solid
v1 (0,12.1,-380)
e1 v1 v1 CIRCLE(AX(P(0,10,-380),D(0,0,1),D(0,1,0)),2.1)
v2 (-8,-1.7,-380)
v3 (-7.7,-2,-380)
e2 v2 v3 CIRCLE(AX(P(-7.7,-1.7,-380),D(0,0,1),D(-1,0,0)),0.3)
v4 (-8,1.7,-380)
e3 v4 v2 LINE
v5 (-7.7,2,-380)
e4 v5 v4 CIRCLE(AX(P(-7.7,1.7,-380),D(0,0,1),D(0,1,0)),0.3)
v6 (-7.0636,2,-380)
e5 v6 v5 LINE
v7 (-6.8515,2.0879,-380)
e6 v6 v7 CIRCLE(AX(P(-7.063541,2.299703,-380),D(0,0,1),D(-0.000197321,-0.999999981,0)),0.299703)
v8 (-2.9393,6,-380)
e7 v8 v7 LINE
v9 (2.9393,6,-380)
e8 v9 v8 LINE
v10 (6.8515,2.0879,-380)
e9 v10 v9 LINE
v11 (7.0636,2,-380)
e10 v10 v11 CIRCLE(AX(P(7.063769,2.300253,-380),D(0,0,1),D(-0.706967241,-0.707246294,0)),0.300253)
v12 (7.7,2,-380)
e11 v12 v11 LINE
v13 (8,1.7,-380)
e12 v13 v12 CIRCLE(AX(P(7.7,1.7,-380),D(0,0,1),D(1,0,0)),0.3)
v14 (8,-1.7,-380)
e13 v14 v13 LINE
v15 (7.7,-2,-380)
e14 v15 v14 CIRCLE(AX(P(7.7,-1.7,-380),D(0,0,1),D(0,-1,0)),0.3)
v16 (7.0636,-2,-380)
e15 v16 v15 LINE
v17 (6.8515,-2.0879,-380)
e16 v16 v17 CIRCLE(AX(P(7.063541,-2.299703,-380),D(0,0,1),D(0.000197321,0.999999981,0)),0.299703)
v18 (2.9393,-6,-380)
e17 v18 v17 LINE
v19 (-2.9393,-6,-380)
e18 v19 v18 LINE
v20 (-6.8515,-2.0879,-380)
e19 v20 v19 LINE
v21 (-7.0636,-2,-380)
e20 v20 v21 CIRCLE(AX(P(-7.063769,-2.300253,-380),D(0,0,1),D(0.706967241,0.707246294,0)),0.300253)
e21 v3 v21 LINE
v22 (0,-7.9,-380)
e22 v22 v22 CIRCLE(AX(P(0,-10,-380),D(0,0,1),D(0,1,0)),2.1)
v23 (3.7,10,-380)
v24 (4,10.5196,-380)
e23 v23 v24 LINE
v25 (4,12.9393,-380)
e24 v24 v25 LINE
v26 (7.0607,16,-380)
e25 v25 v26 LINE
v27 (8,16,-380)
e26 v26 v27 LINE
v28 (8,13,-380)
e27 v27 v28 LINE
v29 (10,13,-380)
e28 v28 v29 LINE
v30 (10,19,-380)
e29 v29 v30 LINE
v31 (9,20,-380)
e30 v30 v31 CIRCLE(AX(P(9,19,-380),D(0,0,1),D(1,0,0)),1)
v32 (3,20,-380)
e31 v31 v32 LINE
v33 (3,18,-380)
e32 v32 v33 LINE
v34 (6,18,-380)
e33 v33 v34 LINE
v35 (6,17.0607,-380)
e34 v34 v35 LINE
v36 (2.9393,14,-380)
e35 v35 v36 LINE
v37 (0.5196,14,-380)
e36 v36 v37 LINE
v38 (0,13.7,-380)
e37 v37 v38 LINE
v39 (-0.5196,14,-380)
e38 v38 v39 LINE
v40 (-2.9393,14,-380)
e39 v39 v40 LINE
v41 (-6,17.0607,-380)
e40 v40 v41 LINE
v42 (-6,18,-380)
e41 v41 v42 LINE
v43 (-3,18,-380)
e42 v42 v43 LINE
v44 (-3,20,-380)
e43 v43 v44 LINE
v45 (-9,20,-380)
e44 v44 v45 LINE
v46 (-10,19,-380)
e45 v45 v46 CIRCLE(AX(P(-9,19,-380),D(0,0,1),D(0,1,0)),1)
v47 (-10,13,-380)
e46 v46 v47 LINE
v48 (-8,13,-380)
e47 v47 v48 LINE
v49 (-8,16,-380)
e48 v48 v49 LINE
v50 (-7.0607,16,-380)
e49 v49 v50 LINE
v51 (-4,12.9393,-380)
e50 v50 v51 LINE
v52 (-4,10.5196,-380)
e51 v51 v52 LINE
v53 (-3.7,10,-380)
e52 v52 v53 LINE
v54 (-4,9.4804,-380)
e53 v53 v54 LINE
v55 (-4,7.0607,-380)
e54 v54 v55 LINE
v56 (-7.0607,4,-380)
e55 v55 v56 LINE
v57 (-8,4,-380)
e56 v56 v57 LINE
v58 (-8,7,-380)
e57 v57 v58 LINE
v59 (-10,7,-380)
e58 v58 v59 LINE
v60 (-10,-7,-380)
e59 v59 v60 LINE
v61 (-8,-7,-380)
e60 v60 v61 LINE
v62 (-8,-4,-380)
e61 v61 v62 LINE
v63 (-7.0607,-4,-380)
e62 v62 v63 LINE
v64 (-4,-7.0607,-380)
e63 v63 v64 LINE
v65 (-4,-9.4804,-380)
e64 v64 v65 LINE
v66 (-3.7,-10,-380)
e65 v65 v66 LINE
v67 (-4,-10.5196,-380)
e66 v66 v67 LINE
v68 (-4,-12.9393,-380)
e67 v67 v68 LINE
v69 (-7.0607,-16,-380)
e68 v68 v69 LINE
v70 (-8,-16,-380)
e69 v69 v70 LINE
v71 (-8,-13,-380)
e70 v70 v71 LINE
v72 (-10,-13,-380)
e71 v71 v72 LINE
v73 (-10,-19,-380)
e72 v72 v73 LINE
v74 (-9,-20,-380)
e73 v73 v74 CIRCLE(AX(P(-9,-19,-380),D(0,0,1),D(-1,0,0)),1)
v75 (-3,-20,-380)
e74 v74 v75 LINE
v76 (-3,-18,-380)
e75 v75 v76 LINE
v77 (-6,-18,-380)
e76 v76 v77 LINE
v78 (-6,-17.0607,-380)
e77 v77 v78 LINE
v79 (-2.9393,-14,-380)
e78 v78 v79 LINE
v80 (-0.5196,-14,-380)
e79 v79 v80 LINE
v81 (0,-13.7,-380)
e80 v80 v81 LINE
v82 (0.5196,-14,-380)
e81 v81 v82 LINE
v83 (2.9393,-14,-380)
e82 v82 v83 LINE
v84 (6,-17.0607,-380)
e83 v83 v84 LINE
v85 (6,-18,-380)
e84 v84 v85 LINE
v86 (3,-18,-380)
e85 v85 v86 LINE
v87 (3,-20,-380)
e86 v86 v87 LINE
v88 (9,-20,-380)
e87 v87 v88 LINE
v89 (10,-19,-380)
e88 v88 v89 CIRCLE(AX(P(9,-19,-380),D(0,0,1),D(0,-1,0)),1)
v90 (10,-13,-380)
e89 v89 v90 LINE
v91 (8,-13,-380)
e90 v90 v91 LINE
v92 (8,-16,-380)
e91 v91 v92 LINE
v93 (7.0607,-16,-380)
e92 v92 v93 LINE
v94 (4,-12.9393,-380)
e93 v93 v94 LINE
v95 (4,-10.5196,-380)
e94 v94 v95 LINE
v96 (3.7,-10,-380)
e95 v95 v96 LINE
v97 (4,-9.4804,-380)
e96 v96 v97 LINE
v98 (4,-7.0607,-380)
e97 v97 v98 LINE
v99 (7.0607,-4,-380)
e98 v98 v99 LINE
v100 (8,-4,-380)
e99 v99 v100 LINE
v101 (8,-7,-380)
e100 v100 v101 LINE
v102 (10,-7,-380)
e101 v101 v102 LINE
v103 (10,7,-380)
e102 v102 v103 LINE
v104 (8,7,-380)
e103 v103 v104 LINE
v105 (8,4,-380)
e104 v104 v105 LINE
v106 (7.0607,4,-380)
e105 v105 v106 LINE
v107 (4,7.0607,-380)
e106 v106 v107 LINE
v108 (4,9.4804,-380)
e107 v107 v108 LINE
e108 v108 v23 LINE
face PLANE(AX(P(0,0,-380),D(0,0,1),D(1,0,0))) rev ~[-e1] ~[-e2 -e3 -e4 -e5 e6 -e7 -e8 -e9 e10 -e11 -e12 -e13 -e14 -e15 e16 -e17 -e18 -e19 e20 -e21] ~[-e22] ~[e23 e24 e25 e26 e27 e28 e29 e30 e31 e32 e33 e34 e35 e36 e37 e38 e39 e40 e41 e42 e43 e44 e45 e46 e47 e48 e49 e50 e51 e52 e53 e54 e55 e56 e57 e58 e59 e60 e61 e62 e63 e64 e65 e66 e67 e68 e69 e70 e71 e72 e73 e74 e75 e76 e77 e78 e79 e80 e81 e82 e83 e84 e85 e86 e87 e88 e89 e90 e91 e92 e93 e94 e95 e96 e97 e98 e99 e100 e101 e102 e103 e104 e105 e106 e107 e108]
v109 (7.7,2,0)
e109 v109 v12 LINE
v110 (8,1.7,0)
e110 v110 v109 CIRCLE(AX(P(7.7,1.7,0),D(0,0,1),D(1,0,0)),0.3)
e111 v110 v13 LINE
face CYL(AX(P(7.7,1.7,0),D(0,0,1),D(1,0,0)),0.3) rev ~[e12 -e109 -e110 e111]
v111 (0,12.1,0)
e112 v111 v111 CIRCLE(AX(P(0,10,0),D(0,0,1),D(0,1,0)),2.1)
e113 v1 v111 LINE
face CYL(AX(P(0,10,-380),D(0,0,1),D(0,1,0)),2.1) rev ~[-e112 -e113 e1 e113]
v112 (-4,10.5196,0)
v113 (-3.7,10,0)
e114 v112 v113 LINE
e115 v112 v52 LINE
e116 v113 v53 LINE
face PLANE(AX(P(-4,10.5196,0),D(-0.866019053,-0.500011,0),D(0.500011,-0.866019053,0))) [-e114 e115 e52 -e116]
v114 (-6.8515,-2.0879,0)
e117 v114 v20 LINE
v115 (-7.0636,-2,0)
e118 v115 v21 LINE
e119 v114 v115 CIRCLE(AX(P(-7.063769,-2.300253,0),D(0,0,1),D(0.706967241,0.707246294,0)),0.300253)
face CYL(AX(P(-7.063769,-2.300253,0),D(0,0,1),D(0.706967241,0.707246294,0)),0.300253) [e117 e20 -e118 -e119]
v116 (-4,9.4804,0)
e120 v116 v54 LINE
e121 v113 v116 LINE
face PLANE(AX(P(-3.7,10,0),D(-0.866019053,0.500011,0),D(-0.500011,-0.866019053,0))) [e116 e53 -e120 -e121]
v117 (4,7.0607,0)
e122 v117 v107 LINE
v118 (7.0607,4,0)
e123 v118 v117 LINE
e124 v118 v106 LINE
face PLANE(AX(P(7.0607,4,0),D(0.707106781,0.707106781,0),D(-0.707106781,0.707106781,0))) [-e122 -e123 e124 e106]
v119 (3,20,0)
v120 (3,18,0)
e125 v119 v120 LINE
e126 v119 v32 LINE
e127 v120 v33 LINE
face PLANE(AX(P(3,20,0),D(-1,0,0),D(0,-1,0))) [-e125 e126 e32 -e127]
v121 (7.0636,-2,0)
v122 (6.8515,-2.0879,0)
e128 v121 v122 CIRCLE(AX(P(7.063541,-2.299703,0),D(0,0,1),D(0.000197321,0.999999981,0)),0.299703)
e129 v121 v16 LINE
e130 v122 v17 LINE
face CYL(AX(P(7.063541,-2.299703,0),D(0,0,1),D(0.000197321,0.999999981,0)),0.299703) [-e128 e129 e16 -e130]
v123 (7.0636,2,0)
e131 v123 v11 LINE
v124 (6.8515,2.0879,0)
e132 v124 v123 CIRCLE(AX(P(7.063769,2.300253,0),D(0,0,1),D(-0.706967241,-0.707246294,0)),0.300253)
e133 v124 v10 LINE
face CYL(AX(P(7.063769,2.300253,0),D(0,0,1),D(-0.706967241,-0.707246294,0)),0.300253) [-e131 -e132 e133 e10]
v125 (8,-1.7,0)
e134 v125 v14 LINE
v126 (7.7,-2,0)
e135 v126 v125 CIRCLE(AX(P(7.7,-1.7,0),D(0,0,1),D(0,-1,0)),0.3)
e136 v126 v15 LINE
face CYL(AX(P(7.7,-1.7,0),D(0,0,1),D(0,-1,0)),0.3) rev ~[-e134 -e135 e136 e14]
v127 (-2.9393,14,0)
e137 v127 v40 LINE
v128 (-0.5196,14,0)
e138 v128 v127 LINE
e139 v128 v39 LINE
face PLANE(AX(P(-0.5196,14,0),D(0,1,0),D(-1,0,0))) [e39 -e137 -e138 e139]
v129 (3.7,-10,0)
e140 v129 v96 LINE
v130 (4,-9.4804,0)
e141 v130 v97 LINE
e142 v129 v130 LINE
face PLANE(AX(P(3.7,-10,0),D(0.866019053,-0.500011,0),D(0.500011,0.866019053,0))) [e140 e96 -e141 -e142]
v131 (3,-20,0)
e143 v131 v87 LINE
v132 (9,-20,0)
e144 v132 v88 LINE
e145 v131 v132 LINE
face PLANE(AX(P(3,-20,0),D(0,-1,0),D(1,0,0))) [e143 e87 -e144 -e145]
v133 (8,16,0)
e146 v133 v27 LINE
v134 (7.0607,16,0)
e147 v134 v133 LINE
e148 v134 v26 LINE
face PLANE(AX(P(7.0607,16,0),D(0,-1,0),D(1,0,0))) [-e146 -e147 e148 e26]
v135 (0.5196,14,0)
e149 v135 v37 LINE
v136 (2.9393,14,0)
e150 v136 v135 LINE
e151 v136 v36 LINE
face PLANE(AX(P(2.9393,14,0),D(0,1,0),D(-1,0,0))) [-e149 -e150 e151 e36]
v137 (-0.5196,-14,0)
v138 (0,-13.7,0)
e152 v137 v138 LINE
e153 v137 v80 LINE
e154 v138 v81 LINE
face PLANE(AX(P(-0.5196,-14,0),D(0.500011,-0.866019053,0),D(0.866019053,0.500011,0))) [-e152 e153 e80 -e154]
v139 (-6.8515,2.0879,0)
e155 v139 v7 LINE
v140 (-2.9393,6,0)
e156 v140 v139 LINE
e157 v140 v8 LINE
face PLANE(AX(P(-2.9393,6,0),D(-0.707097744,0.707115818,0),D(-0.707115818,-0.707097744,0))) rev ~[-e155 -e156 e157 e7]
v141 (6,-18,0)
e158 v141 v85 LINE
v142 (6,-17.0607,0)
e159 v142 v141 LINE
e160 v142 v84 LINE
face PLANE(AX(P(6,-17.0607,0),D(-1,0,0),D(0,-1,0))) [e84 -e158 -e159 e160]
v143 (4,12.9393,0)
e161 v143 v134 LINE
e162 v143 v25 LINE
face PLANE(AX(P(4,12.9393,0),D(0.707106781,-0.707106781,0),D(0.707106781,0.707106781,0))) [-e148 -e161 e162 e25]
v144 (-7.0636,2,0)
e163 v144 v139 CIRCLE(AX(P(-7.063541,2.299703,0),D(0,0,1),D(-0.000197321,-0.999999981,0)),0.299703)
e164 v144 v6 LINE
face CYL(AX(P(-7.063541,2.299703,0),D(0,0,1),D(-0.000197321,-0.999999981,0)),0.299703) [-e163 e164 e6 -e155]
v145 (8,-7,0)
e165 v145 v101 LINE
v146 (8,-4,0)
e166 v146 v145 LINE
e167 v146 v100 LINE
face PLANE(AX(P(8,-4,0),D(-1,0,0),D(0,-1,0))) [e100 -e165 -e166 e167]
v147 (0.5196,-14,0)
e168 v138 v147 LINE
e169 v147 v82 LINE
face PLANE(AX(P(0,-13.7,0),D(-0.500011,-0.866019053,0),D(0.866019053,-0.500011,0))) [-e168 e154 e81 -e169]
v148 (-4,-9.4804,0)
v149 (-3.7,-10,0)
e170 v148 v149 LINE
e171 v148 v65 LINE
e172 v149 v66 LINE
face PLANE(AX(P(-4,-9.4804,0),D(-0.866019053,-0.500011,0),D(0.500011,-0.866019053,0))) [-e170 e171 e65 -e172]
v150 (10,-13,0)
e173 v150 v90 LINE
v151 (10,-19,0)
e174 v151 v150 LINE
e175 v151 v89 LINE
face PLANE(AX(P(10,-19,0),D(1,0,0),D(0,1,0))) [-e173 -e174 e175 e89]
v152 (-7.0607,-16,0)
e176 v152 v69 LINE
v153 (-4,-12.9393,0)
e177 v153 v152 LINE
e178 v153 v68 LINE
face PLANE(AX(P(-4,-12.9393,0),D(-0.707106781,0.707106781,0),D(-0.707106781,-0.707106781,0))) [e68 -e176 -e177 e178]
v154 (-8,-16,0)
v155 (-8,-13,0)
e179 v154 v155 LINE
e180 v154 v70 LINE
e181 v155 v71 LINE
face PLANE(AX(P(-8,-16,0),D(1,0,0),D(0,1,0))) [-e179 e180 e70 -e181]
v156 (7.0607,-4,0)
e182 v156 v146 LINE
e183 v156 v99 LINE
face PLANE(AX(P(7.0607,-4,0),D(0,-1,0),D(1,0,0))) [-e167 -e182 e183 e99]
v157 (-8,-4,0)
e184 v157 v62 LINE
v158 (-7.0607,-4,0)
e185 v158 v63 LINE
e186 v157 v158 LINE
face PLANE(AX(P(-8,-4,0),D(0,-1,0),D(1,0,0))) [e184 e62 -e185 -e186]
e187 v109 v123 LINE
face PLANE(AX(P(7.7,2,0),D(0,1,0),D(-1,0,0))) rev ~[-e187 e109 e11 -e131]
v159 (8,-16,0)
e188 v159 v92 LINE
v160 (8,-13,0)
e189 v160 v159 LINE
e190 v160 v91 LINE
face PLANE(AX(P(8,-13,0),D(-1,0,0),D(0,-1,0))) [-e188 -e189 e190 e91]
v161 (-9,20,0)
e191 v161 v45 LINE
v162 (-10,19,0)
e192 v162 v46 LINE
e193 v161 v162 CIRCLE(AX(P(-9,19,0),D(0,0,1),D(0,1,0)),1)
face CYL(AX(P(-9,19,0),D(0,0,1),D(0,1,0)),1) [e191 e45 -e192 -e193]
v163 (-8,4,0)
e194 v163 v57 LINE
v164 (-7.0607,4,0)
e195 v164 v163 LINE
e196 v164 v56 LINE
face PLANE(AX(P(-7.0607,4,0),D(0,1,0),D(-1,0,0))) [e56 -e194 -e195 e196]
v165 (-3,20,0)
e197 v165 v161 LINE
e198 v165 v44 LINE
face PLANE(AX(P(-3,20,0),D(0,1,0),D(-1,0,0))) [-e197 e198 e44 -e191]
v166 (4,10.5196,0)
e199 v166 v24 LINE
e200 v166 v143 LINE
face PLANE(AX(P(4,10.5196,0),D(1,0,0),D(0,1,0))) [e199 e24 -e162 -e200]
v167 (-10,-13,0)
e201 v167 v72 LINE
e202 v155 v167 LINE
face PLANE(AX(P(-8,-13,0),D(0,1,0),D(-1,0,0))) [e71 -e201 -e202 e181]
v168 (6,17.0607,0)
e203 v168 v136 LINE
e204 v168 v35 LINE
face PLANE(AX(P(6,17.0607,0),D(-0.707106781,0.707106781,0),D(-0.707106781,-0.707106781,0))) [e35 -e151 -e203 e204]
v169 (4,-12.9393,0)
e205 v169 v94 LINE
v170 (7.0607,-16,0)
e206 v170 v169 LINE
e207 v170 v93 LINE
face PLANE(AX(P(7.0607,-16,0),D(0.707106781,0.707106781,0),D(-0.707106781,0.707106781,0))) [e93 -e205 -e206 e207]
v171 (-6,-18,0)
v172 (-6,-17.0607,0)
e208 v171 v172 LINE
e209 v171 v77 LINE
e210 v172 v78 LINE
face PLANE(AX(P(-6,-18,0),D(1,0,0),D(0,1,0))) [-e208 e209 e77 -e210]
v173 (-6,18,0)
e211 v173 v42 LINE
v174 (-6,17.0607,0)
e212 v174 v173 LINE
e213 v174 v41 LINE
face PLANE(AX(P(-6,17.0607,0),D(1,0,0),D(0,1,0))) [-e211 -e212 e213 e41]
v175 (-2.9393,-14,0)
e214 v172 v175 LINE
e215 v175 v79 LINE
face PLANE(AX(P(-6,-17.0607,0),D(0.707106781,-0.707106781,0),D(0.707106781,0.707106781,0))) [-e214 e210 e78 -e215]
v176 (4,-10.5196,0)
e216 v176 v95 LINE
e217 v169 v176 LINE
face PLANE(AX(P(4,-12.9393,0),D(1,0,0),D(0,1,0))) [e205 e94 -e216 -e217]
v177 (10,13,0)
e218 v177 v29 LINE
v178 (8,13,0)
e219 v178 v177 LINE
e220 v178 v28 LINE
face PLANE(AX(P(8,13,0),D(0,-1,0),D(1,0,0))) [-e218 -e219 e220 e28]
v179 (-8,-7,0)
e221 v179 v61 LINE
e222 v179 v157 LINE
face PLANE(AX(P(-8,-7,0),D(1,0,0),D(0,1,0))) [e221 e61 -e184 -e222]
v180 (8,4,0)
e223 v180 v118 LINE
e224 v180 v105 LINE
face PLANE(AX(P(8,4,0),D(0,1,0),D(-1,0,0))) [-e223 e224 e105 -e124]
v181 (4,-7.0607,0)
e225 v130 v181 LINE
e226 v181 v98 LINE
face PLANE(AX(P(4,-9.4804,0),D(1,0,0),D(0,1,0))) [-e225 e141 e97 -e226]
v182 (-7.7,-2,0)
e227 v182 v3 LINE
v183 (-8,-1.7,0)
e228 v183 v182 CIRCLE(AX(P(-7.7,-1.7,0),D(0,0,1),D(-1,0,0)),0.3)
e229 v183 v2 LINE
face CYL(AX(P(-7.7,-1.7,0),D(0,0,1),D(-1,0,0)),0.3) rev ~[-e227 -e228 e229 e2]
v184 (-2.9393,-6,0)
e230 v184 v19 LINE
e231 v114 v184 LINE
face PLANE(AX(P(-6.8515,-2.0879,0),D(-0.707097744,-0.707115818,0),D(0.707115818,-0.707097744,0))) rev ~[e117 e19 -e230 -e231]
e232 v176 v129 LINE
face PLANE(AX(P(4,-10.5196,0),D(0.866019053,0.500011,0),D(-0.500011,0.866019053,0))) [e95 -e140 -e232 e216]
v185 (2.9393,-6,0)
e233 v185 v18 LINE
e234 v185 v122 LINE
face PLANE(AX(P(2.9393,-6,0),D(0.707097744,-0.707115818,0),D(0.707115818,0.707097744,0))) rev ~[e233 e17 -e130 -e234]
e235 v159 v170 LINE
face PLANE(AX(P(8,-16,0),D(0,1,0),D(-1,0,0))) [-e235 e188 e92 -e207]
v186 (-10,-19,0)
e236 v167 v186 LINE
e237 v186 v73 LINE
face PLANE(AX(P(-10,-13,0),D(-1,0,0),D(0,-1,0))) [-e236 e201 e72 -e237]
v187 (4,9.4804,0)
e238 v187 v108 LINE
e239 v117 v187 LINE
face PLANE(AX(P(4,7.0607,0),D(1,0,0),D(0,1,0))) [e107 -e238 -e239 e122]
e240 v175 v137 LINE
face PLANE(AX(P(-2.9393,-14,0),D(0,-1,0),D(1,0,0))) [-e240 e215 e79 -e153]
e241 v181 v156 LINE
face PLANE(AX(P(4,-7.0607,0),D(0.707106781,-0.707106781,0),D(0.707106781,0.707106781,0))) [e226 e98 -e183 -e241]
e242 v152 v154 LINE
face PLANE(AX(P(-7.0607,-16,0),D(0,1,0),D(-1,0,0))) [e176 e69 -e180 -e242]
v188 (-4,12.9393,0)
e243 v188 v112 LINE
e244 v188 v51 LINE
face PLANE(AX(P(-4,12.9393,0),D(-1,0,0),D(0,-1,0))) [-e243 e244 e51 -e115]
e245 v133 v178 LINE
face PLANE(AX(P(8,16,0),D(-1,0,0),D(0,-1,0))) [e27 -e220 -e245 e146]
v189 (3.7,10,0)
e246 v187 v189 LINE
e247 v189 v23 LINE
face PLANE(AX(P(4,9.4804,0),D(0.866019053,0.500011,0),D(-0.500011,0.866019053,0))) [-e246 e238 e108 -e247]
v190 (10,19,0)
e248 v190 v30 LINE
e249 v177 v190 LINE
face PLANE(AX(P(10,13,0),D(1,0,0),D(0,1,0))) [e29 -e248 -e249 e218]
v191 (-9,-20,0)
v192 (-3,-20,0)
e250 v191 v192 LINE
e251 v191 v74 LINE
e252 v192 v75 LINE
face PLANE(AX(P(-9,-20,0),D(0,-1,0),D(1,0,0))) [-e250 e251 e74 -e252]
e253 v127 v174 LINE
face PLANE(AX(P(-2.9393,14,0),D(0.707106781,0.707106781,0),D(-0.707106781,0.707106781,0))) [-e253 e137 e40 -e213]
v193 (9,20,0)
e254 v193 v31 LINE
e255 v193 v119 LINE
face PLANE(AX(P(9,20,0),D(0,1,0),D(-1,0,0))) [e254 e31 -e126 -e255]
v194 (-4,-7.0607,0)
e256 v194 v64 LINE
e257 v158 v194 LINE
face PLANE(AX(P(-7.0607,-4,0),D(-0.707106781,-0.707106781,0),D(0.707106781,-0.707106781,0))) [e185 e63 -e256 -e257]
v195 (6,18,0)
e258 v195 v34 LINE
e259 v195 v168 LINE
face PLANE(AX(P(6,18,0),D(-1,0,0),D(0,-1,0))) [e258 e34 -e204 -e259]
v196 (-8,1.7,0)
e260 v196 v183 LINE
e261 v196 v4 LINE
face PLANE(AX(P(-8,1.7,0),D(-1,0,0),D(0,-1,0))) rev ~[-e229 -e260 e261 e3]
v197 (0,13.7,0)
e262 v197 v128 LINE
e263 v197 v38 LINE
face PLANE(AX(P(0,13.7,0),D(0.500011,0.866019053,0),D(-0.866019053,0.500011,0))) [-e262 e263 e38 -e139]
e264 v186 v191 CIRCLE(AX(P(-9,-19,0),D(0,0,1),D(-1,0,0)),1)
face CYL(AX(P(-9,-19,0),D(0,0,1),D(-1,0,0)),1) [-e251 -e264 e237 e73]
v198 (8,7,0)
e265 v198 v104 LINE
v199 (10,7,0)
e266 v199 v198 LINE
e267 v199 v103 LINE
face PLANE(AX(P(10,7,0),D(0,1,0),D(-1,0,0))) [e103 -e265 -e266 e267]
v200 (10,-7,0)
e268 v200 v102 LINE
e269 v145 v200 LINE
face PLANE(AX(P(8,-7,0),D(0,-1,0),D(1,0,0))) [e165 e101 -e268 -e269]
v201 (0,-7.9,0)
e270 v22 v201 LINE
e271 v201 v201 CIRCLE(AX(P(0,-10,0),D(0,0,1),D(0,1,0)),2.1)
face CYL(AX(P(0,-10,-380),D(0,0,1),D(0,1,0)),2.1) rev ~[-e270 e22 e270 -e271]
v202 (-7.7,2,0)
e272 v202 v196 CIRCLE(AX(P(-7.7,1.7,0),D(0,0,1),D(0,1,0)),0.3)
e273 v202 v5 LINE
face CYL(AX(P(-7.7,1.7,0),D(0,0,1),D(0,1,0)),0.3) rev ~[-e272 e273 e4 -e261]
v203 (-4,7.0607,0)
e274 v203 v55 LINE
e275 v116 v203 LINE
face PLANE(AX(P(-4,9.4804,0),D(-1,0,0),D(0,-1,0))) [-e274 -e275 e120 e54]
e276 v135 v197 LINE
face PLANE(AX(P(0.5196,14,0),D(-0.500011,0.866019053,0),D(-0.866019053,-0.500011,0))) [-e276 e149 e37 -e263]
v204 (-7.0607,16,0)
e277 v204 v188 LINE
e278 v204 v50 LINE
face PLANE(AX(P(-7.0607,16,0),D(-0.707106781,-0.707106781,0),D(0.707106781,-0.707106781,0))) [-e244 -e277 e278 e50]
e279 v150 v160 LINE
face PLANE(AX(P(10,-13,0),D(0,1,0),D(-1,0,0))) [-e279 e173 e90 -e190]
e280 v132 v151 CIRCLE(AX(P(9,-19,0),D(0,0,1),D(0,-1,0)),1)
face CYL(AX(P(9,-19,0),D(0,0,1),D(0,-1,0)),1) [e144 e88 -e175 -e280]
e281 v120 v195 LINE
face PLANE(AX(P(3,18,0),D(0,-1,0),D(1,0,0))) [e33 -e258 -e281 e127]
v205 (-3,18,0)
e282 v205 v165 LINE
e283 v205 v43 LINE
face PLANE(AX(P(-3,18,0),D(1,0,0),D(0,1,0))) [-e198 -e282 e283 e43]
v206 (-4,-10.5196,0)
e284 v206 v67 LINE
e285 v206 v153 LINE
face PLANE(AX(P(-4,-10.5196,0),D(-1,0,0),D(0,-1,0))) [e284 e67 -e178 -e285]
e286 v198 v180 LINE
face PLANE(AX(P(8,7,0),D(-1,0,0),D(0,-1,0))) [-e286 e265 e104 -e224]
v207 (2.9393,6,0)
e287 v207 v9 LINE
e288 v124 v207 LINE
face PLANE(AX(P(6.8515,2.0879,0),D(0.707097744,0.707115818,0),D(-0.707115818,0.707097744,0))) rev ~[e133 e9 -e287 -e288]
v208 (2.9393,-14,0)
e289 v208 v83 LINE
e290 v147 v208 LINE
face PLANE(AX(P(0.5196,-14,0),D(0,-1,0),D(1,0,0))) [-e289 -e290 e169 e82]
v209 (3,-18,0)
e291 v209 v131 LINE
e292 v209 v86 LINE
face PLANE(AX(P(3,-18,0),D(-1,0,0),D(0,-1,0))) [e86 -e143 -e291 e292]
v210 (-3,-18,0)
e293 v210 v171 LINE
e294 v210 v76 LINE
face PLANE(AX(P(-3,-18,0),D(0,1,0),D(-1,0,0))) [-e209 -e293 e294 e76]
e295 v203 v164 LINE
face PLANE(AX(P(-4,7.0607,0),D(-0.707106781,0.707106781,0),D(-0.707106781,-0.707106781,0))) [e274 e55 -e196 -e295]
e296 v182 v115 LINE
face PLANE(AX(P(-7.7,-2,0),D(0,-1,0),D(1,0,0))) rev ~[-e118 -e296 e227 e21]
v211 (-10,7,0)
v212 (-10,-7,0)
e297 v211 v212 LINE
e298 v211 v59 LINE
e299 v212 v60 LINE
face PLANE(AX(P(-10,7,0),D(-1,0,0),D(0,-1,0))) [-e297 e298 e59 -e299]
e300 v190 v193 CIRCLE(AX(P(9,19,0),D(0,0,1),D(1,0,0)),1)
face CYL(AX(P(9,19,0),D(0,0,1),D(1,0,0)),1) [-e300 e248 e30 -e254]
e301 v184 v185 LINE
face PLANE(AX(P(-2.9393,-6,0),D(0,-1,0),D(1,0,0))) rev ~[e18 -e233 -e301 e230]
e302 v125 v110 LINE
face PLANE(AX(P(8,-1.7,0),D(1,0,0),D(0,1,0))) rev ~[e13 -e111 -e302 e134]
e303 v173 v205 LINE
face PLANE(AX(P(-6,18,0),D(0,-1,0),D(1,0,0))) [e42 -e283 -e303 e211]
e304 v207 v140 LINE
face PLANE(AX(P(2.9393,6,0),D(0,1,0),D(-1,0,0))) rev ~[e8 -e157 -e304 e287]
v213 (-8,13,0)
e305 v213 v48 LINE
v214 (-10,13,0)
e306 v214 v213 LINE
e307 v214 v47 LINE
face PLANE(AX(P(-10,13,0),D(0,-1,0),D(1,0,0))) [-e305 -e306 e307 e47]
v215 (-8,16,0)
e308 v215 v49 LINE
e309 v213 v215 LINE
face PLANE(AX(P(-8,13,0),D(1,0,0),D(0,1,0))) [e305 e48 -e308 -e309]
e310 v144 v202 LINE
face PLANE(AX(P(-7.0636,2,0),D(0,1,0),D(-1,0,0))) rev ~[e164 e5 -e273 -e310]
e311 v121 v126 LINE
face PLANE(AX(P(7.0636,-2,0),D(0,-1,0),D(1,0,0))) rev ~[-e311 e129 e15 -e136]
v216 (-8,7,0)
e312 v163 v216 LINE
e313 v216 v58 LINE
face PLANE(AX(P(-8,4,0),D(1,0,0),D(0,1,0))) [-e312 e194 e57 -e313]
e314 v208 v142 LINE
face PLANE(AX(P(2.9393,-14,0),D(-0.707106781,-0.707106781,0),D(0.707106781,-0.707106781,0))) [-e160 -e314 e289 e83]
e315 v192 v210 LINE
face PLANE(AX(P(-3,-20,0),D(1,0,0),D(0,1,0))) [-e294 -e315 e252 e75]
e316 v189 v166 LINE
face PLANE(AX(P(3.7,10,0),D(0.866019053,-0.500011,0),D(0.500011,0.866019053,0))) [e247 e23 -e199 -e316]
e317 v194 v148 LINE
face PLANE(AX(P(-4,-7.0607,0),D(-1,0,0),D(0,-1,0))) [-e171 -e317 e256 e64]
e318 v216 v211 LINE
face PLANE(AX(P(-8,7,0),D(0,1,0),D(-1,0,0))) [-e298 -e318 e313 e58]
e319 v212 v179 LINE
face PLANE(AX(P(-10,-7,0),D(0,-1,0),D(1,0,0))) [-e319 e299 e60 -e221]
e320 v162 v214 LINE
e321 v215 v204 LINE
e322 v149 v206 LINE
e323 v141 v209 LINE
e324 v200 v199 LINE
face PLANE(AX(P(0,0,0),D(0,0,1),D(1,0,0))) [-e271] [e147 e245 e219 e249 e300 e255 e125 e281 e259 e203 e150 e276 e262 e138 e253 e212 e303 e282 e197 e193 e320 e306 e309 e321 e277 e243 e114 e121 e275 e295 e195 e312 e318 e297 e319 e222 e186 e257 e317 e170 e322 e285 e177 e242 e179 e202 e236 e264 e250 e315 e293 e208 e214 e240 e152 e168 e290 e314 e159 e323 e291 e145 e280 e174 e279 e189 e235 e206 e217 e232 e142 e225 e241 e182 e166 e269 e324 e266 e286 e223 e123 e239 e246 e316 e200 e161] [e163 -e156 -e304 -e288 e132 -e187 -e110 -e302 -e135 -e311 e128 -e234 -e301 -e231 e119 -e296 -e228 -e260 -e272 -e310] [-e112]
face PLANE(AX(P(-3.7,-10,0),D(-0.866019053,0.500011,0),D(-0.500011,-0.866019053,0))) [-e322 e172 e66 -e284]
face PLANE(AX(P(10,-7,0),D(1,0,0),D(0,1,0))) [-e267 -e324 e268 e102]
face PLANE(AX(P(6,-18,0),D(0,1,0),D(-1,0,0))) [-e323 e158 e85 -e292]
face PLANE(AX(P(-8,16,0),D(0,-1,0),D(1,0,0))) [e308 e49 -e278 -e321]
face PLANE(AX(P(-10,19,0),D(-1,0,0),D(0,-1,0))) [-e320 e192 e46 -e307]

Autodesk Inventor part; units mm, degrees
sketch "Sketch_1" plane through (0, 0, 0) normal (0, 0, 1) x (1, 0, 0)
  line L0 (-10, -7) -> (-8, -7)
  line L1 (-8, -7) -> (-8, -4)
  line L2 (-8, -4) -> (-7.0607, -4)
  line L3 (-7.0607, -4) -> (-4, -7.0607)
  line L4 (-4, -7.0607) -> (-4, -9.4804)
  line L5 (-4, -9.4804) -> (-3.7, -10)
  line L6 (-3.7, -10) -> (-4, -10.5196)
  line L7 (-4, -10.5196) -> (-4, -12.9393)
  line L8 (-4, -12.9393) -> (-7.0607, -16)
  line L9 (-7.0607, -16) -> (-8, -16)
  line L10 (-8, -16) -> (-8, -13)
  line L11 (-8, -13) -> (-10, -13)
  line L12 (-10, -13) -> (-10, -19)
  arc A0 (-10, -19) -> (-9, -20) centre (-9, -19) ccw
  line L13 (-9, -20) -> (-3, -20)
  line L14 (-3, -20) -> (-3, -18)
  line L15 (-3, -18) -> (-6, -18)
  line L16 (-6, -18) -> (-6, -17.0607)
  line L17 (-6, -17.0607) -> (-2.9393, -14)
  line L18 (-2.9393, -14) -> (-0.5196, -14)
  line L19 (-0.5196, -14) -> (0, -13.7)
  line L20 (0, -13.7) -> (0.5196, -14)
  line L21 (0.5196, -14) -> (2.9393, -14)
  line L22 (2.9393, -14) -> (6, -17.0607)
  line L23 (6, -17.0607) -> (6, -18)
  line L24 (6, -18) -> (3, -18)
  line L25 (3, -18) -> (3, -20)
  line L26 (3, -20) -> (9, -20)
  arc A1 (9, -20) -> (10, -19) centre (9, -19) ccw
  line L27 (10, -19) -> (10, -13)
  line L28 (10, -13) -> (8, -13)
  line L29 (8, -13) -> (8, -16)
  line L30 (8, -16) -> (7.0607, -16)
  line L31 (7.0607, -16) -> (4, -12.9393)
  line L32 (4, -12.9393) -> (4, -10.5196)
  line L33 (4, -10.5196) -> (3.7, -10)
  line L34 (3.7, -10) -> (4, -9.4804)
  line L35 (4, -9.4804) -> (4, -7.0607)
  line L36 (4, -7.0607) -> (7.0607, -4)
  line L37 (7.0607, -4) -> (8, -4)
  line L38 (8, -4) -> (8, -7)
  line L39 (8, -7) -> (10, -7)
  line L40 (10, -7) -> (10, 7)
  line L41 (10, 7) -> (8, 7)
  line L42 (8, 7) -> (8, 4)
  line L43 (8, 4) -> (7.0607, 4)
  line L44 (7.0607, 4) -> (4, 7.0607)
  line L45 (4, 7.0607) -> (4, 9.4804)
  line L46 (4, 9.4804) -> (3.7, 10)
  line L47 (3.7, 10) -> (4, 10.5196)
  line L48 (4, 10.5196) -> (4, 12.9393)
  line L49 (4, 12.9393) -> (7.0607, 16)
  line L50 (7.0607, 16) -> (8, 16)
  line L51 (8, 16) -> (8, 13)
  line L52 (8, 13) -> (10, 13)
  line L53 (10, 13) -> (10, 19)
  arc A2 (10, 19) -> (9, 20) centre (9, 19) ccw
  line L54 (9, 20) -> (3, 20)
  line L55 (3, 20) -> (3, 18)
  line L56 (3, 18) -> (6, 18)
  line L57 (6, 18) -> (6, 17.0607)
  line L58 (6, 17.0607) -> (2.9393, 14)
  line L59 (2.9393, 14) -> (0.5196, 14)
  line L60 (0.5196, 14) -> (0, 13.7)
  line L61 (0, 13.7) -> (-0.5196, 14)
  line L62 (-0.5196, 14) -> (-2.9393, 14)
  line L63 (-2.9393, 14) -> (-6, 17.0607)
  line L64 (-6, 17.0607) -> (-6, 18)
  line L65 (-6, 18) -> (-3, 18)
  line L66 (-3, 18) -> (-3, 20)
  line L67 (-3, 20) -> (-9, 20)
  arc A3 (-9, 20) -> (-10, 19) centre (-9, 19) ccw
  line L68 (-10, 19) -> (-10, 13)
  line L69 (-10, 13) -> (-8, 13)
  line L70 (-8, 13) -> (-8, 16)
  line L71 (-8, 16) -> (-7.0607, 16)
  line L72 (-7.0607, 16) -> (-4, 12.9393)
  line L73 (-4, 12.9393) -> (-4, 10.5196)
  line L74 (-4, 10.5196) -> (-3.7, 10)
  line L75 (-3.7, 10) -> (-4, 9.4804)
  line L76 (-4, 9.4804) -> (-4, 7.0607)
  line L77 (-4, 7.0607) -> (-7.0607, 4)
  line L78 (-7.0607, 4) -> (-8, 4)
  line L79 (-8, 4) -> (-8, 7)
  line L80 (-8, 7) -> (-10, 7)
  line L81 (-10, 7) -> (-10, -7)
  line L82 (-8, 1.7) -> (-8, -1.7)
  arc A4 (-8, -1.7) -> (-7.7, -2) centre (-7.7, -1.7) ccw
  line L83 (-7.7, -2) -> (-7.0636, -2)
  arc A5 (-6.8515, -2.0879) -> (-7.0636, -2) centre (-7.0636, -2.3) ccw
  line L84 (-6.8515, -2.0879) -> (-2.9393, -6)
  line L85 (-2.9393, -6) -> (2.9393, -6)
  line L86 (2.9393, -6) -> (6.8515, -2.0879)
  arc A6 (7.0636, -2) -> (6.8515, -2.0879) centre (7.0636, -2.3) ccw
  line L87 (7.0636, -2) -> (7.7, -2)
  arc A7 (7.7, -2) -> (8, -1.7) centre (7.7, -1.7) ccw
  line L88 (8, -1.7) -> (8, 1.7)
  arc A8 (8, 1.7) -> (7.7, 2) centre (7.7, 1.7) ccw
  line L89 (7.7, 2) -> (7.0636, 2)
  arc A9 (6.8515, 2.0879) -> (7.0636, 2) centre (7.0636, 2.3) ccw
  line L90 (6.8515, 2.0879) -> (2.9393, 6)
  line L91 (2.9393, 6) -> (-2.9393, 6)
  line L92 (-2.9393, 6) -> (-6.8515, 2.0879)
  arc A10 (-7.0636, 2) -> (-6.8515, 2.0879) centre (-7.0636, 2.3) ccw
  line L93 (-7.0636, 2) -> (-7.7, 2)
  arc A11 (-7.7, 2) -> (-8, 1.7) centre (-7.7, 1.7) ccw
extrude "Extrusion1" add sketch "Sketch_1" against normal blind 380
sketch "Sketch2" plane through (0, 0, -380) normal (0, 0, -1) x (-1, 0, 0)
  point P0 (0, 10)
hole "Hole1" at (0, 10, -380) direction (0, 0, 1) diameter 4.2 depth 380
pattern_linear "Rectangular Pattern1" count 2 spacing 20 along (0, -1, 0) of "Hole1"
ref_plane "C1_XY" through (0, 0, 0) normal (0, 0, 1) x (1, 0, 0)
ref_plane "C1_YZ" through (0, 0, 0) normal (1, 0, 0) x (0, 1, 0)
ref_plane "C1_ZX" through (0, 0, 0) normal (0, 1, 0) x (0, 0, 1)
properties part number "HFS5-2040-380"
